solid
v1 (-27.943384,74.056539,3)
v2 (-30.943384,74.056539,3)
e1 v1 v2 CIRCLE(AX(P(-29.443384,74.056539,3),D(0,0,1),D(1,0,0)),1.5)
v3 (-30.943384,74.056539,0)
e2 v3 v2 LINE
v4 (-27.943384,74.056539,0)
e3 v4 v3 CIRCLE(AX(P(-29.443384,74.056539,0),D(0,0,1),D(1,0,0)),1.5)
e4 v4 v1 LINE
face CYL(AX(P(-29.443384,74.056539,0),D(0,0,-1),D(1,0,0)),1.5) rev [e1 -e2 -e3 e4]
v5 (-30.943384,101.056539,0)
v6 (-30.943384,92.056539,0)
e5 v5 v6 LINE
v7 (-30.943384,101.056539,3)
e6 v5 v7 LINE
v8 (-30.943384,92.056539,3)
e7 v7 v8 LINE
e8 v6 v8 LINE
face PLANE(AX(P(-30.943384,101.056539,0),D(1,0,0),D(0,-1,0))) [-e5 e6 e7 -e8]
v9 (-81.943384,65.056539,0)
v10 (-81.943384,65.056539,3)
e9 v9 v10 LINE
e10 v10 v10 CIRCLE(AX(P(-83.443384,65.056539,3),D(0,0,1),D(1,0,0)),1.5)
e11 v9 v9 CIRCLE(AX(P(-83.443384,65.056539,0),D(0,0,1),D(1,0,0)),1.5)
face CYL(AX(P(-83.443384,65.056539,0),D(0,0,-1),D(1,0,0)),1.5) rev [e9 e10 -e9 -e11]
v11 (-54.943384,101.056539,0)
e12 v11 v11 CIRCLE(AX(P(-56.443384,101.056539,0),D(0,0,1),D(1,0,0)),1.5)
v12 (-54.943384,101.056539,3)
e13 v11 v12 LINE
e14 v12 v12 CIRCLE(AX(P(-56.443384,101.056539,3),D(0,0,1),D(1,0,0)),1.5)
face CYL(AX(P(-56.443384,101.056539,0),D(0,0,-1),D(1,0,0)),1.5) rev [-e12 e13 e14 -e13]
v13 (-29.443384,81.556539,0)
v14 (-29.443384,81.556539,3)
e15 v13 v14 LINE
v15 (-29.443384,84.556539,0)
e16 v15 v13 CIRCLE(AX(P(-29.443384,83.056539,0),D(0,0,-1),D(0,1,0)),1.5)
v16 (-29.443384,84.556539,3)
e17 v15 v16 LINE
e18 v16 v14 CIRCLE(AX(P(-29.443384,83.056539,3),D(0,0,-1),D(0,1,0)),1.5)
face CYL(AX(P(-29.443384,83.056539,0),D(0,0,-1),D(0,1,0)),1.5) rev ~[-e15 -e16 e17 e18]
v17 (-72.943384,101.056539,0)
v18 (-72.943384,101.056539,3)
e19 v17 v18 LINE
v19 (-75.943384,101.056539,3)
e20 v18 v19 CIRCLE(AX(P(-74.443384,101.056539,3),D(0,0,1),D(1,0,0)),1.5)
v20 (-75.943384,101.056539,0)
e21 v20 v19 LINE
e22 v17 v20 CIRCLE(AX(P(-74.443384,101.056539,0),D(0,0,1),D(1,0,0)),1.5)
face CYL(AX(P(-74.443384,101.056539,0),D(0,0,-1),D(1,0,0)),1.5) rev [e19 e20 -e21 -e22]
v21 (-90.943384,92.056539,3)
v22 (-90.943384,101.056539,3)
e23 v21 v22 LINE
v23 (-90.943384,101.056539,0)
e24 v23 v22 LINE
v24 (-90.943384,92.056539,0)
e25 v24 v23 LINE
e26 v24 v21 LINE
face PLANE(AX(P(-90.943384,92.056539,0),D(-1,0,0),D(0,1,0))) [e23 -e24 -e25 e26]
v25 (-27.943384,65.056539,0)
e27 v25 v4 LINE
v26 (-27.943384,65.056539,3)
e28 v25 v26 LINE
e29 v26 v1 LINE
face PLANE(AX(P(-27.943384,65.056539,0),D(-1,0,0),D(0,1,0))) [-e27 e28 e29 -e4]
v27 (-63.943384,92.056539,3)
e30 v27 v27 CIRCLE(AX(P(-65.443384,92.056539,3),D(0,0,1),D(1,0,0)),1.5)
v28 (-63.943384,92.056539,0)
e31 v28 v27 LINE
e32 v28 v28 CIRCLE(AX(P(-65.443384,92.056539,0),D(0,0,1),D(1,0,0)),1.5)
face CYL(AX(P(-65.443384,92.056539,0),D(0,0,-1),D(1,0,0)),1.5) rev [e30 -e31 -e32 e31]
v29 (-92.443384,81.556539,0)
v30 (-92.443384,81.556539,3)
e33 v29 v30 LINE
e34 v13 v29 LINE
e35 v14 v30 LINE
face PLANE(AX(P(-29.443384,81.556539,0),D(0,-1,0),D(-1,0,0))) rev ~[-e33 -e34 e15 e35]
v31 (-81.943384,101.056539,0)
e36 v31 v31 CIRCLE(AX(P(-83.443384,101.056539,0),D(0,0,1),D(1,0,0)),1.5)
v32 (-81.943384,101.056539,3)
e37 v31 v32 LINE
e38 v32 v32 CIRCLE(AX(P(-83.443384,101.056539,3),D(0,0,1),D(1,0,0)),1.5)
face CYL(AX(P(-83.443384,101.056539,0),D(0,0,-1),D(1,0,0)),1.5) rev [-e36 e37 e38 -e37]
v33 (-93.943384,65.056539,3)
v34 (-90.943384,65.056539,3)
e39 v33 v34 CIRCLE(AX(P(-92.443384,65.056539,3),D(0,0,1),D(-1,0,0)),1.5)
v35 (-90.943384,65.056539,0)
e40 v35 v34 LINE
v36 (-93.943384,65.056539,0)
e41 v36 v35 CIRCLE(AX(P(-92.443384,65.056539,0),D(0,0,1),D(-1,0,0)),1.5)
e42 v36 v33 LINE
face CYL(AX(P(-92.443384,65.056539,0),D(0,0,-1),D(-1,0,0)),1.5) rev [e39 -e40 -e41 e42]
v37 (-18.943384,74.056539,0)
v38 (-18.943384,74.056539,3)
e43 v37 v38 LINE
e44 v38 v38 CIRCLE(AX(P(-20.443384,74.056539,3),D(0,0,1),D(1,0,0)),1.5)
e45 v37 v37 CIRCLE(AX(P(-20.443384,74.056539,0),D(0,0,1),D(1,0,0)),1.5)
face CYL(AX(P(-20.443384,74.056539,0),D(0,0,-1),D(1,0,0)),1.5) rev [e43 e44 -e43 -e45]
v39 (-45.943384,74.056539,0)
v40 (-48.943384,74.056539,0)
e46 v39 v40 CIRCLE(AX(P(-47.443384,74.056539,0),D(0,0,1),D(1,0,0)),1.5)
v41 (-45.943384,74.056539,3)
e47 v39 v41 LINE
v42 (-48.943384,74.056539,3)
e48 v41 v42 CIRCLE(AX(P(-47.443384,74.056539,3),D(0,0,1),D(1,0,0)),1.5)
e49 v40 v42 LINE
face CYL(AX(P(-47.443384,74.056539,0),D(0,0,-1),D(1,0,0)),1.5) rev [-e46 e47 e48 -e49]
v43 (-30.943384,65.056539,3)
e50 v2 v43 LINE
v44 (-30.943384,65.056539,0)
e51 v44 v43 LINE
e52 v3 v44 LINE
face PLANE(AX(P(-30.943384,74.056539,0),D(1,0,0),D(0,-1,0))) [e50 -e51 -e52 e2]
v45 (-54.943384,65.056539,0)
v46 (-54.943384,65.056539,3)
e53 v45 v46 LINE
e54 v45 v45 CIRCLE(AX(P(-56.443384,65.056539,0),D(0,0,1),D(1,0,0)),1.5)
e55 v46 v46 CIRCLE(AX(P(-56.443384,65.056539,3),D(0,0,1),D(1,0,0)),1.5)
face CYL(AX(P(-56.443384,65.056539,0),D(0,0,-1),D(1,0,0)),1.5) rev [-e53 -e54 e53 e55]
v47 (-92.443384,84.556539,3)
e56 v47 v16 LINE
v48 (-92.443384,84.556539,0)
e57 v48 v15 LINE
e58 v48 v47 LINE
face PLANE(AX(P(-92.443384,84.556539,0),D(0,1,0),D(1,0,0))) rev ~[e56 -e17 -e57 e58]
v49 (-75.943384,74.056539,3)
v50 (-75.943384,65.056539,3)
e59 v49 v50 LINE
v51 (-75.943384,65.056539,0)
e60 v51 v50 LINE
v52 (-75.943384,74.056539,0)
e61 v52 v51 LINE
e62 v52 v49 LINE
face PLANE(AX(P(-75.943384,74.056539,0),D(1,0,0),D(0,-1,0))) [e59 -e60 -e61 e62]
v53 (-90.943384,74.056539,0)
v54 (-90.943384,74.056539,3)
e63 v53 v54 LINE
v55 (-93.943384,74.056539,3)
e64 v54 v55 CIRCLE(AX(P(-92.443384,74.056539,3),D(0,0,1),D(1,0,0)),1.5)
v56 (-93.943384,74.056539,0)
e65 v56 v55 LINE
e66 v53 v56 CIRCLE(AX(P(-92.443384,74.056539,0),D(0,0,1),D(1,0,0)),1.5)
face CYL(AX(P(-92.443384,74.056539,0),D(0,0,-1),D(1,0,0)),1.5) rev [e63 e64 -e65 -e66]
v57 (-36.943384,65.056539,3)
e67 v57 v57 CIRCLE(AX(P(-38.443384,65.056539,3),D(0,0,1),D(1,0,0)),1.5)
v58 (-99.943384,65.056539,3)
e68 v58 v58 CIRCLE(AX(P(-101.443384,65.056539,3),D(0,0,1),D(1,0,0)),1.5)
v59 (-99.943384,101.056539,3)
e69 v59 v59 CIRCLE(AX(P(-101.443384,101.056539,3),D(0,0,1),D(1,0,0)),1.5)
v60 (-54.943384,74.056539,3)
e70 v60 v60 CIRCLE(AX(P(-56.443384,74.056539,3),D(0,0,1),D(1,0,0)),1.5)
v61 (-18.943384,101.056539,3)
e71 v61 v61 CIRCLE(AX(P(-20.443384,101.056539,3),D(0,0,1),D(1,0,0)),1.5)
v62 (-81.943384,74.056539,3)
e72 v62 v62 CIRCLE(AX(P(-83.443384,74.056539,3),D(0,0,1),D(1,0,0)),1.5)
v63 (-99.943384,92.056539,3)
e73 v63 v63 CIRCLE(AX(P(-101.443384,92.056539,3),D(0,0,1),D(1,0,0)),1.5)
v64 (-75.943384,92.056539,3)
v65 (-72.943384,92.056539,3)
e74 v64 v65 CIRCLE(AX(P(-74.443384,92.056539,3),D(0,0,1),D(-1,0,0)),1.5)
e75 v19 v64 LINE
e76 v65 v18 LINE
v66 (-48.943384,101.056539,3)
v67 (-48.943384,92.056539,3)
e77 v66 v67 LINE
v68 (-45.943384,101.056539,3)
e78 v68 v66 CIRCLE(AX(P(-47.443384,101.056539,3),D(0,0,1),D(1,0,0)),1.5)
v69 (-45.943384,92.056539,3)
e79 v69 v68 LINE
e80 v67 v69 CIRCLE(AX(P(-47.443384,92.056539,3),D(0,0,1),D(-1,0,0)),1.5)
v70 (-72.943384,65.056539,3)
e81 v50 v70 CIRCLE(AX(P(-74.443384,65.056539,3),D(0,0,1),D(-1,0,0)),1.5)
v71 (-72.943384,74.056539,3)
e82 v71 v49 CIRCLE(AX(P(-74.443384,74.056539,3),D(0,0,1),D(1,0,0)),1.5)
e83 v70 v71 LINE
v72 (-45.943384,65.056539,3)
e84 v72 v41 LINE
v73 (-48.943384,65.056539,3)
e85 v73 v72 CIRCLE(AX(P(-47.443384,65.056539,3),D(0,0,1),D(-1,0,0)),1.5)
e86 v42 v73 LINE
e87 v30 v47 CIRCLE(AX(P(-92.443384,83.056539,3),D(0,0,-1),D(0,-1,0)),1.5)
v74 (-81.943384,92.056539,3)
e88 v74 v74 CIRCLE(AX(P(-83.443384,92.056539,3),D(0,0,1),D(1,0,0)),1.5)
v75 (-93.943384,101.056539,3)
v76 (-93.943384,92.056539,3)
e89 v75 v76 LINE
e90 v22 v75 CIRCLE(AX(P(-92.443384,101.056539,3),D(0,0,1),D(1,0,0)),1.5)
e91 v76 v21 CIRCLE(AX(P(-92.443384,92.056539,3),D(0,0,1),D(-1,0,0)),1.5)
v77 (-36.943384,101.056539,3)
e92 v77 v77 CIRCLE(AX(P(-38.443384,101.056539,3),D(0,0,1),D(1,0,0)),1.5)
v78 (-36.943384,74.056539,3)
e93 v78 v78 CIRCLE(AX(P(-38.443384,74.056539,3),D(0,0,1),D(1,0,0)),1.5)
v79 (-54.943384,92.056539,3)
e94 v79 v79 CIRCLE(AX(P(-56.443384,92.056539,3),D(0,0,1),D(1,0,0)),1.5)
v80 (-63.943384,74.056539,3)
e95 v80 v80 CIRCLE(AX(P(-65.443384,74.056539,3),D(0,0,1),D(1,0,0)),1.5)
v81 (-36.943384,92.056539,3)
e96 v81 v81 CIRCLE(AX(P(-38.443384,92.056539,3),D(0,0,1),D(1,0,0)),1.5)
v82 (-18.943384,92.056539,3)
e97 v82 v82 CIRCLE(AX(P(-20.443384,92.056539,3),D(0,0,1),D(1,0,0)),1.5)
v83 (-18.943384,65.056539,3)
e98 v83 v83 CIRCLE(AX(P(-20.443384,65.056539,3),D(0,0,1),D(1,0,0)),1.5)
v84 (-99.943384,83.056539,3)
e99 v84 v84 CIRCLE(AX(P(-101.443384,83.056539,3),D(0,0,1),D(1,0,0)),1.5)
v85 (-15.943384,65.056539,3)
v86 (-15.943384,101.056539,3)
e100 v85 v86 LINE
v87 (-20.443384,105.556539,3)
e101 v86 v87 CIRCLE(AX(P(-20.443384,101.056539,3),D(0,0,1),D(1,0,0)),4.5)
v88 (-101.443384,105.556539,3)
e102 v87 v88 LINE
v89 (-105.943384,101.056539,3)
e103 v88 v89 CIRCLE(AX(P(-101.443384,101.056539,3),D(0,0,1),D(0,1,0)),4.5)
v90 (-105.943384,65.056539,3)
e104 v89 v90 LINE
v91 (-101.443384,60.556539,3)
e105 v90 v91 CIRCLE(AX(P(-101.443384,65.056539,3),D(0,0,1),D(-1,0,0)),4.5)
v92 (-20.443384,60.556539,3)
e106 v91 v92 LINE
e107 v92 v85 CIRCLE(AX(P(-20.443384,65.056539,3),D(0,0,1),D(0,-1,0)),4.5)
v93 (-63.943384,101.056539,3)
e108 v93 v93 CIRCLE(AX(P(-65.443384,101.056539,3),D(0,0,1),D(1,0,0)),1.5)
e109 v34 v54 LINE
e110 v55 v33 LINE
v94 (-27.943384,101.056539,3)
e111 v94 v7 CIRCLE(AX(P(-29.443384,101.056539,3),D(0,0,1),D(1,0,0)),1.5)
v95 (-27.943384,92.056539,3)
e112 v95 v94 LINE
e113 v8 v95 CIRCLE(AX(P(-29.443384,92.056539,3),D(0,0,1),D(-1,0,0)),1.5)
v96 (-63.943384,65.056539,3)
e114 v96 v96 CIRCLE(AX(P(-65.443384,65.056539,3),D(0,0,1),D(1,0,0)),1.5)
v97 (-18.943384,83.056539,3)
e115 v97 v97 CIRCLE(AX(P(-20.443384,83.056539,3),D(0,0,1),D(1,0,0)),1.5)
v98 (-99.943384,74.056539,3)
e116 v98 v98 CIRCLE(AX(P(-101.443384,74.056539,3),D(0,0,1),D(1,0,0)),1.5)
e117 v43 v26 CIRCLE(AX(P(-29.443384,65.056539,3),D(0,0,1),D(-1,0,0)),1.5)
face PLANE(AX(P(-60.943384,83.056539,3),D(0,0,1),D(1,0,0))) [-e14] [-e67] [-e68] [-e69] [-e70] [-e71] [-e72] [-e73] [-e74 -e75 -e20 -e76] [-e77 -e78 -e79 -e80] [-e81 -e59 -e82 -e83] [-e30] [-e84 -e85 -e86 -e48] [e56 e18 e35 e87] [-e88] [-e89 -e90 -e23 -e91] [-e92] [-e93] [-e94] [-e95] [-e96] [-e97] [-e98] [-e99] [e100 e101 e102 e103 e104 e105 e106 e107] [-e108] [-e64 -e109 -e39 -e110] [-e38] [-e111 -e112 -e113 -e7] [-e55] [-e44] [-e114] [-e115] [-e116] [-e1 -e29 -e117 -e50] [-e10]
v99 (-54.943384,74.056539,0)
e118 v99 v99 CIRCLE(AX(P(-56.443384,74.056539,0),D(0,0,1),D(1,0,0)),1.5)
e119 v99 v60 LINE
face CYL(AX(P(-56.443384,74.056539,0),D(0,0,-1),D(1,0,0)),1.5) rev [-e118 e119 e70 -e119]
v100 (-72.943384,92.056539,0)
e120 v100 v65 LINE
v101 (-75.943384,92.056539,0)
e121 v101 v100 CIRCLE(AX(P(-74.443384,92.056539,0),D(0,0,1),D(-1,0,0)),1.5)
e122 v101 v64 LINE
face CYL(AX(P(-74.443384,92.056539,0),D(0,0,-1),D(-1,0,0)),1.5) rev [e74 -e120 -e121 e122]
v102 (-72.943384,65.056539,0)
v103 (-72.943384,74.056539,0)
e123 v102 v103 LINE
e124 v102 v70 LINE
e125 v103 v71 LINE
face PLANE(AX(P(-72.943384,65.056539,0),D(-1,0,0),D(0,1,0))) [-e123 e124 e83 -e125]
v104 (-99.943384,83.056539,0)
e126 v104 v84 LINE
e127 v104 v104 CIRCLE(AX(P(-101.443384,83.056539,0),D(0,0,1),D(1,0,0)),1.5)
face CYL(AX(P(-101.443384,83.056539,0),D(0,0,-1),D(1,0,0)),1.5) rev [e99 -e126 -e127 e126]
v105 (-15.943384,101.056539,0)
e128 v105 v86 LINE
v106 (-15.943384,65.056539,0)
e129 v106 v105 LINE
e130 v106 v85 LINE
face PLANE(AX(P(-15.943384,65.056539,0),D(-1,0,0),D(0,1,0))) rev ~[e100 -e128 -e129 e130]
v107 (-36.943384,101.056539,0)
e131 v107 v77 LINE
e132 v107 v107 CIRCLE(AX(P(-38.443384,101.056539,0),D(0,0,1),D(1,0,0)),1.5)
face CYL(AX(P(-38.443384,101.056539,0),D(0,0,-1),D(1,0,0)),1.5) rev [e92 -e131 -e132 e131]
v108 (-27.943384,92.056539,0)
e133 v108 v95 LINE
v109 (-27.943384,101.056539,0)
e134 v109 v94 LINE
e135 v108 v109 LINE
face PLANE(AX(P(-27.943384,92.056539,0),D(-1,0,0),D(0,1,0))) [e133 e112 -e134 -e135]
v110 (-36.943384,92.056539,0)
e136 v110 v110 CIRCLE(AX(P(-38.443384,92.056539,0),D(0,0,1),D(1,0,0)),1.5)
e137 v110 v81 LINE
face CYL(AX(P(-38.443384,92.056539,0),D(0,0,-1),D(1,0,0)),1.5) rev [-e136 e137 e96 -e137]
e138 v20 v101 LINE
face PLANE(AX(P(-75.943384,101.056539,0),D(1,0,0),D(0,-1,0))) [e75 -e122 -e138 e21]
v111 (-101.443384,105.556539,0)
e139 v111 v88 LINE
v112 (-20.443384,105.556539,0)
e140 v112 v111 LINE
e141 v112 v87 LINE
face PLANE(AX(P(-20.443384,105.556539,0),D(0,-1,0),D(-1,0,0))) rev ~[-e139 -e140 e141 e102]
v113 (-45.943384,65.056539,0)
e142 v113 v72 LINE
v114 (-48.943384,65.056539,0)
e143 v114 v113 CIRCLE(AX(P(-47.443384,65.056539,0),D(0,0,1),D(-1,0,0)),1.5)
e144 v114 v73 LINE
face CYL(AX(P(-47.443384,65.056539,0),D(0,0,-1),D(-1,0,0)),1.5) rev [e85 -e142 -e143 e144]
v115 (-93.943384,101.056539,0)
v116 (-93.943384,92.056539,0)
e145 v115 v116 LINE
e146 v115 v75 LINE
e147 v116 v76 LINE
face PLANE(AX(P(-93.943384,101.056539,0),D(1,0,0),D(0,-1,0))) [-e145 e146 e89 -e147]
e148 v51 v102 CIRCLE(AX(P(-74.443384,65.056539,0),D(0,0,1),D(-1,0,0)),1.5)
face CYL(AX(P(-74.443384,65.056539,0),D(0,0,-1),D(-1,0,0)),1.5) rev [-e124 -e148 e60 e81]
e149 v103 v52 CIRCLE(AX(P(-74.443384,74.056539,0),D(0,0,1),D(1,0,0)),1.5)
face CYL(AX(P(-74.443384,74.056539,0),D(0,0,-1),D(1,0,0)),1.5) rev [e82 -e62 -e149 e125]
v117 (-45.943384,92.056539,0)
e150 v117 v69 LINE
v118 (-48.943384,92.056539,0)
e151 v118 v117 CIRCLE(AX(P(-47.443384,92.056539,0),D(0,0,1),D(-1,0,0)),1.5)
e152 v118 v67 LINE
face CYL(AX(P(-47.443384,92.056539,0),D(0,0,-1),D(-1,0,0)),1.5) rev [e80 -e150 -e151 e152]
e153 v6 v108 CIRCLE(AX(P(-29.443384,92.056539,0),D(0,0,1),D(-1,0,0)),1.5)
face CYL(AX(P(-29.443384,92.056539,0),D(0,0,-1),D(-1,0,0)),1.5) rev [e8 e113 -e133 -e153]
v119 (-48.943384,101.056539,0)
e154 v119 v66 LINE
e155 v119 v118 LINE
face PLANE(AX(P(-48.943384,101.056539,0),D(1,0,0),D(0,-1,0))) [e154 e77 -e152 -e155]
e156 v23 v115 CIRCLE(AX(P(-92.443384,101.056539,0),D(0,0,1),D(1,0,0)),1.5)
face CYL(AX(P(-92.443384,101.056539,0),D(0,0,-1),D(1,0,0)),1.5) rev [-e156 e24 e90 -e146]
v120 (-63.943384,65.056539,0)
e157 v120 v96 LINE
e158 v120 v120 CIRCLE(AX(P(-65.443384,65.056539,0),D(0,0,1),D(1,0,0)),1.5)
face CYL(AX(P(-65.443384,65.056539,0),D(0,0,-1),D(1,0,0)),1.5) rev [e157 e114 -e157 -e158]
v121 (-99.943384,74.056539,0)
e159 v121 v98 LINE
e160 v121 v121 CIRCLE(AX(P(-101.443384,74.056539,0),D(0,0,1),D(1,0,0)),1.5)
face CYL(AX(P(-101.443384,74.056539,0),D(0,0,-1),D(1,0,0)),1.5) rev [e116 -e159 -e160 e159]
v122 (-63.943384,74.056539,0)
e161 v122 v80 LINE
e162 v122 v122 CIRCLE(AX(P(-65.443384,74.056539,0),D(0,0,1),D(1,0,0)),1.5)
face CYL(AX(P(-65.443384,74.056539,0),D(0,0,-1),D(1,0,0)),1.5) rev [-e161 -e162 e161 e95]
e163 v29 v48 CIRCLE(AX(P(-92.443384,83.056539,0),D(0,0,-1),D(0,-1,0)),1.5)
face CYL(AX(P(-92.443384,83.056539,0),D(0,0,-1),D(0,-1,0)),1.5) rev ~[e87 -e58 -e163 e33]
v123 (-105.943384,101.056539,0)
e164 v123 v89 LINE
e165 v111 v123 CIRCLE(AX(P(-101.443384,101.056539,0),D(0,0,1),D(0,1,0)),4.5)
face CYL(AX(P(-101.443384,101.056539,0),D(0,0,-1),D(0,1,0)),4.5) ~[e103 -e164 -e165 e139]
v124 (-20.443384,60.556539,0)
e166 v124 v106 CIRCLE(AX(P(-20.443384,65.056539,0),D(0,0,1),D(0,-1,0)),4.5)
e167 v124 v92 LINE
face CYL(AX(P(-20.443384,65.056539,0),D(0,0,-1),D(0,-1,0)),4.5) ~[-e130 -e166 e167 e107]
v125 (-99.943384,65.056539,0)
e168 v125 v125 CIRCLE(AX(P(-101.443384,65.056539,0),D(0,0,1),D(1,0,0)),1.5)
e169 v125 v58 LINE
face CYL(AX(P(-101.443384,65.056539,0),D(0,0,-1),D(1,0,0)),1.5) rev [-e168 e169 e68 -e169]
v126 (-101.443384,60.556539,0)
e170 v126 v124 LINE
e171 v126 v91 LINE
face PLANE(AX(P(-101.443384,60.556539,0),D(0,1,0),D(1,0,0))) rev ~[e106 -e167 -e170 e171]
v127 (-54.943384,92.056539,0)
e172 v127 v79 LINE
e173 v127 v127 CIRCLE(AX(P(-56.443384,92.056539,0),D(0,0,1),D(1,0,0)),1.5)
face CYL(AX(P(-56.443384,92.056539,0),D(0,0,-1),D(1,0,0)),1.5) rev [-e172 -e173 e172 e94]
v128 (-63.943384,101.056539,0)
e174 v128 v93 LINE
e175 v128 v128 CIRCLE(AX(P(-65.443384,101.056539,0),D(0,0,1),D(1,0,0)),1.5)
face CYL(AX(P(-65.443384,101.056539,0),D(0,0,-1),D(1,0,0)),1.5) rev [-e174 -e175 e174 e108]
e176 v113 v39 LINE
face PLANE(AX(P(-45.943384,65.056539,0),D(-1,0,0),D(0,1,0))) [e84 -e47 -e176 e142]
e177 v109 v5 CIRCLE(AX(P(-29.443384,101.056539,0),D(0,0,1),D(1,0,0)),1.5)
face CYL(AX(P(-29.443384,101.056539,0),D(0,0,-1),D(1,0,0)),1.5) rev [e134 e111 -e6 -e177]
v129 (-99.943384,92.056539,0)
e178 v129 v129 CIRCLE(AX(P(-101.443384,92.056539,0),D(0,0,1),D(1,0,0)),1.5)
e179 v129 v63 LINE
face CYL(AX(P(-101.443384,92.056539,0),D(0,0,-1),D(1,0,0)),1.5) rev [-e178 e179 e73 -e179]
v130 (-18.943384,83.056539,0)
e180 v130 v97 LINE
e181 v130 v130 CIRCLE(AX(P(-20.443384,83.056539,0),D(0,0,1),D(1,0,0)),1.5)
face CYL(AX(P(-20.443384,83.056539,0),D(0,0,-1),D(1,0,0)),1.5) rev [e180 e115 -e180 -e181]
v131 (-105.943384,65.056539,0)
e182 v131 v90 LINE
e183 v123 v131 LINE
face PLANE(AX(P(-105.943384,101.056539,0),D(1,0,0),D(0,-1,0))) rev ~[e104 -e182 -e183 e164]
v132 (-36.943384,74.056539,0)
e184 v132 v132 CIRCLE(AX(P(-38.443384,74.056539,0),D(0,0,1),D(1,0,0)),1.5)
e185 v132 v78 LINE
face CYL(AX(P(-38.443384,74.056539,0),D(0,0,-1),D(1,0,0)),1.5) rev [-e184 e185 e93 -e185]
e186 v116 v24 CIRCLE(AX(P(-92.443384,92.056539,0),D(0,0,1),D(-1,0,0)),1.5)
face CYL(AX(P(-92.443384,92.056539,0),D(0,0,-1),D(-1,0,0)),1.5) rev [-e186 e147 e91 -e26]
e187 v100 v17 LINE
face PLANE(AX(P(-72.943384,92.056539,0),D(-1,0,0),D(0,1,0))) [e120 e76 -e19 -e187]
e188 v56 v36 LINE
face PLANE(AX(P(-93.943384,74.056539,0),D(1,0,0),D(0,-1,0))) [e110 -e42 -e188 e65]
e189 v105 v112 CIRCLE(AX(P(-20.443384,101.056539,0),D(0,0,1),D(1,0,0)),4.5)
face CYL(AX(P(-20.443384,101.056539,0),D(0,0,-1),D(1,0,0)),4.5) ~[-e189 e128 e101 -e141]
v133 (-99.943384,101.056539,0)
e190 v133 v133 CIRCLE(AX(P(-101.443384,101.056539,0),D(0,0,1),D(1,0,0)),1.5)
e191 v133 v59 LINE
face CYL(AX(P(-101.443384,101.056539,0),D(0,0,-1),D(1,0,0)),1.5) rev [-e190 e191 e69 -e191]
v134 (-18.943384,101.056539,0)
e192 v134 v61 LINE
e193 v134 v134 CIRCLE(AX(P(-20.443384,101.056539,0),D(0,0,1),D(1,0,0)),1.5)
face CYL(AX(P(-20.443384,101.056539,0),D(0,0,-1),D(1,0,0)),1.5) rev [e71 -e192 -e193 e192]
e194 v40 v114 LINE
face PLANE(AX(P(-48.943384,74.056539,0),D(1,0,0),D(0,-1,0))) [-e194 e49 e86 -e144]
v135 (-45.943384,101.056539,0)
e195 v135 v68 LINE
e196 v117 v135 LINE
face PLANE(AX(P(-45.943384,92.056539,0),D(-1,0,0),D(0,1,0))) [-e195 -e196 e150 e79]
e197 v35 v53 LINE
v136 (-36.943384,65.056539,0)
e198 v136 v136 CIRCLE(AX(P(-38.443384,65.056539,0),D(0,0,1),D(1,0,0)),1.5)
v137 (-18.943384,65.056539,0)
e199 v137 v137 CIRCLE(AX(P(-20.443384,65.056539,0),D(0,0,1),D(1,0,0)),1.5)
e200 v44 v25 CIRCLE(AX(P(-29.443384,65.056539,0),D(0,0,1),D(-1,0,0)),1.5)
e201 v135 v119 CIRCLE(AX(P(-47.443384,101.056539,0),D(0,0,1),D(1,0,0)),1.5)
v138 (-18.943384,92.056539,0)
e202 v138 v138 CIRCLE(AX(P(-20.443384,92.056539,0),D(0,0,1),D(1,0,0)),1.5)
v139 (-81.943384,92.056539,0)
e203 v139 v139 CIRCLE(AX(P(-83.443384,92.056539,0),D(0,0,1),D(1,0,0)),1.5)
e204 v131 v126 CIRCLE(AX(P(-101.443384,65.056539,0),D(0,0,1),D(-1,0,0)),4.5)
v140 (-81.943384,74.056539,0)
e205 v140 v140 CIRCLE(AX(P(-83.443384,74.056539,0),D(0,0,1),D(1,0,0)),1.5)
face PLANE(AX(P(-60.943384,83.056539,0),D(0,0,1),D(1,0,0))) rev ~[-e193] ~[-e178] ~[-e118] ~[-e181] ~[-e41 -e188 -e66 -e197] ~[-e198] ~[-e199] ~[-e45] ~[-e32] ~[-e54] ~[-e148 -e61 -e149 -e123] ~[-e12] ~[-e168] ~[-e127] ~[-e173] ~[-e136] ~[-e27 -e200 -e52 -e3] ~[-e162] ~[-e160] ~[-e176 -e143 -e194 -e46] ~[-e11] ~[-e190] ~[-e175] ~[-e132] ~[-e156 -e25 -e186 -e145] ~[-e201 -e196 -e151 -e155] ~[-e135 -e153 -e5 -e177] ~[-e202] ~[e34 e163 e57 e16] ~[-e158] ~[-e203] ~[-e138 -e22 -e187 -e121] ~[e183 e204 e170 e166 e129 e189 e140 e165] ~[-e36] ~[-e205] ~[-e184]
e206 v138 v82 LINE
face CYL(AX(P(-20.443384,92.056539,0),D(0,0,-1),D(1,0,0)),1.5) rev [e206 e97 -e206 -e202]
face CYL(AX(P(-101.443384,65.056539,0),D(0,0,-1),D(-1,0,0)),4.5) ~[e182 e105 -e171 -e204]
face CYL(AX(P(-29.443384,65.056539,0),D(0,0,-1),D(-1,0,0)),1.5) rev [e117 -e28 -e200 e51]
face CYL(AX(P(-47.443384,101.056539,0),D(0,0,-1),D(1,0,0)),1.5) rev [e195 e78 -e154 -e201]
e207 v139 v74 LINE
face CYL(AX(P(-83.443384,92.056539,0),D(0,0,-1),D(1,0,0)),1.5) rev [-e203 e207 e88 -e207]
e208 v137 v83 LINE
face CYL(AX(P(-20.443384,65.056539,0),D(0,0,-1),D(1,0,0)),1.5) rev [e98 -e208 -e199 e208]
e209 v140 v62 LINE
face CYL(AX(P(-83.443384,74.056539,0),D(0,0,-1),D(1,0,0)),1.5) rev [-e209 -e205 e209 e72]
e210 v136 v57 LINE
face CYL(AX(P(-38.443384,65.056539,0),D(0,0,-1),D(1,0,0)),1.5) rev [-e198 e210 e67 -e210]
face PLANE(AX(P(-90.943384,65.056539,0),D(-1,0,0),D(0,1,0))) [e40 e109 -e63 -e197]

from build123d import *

# Parameters (mm, degrees)
MODEL_R                 = 1.5
SALIENTE_EXTRUIR1_DEPTH = 3


with BuildPart() as part:
    # Model → Saliente-Extruir1 (new body)
    with BuildSketch(Plane.XY):
        with BuildLine():
            Line((-105.943383637, 101.056539338), (-105.943383637, 65.056539338))
            ThreePointArc((-105.943383637, 65.056539338), (-104.625364152, 61.874558823), (-101.443383637, 60.556539338))
            Line((-101.443383637, 60.556539338), (-20.443383637, 60.556539338))
            ThreePointArc((-20.443383637, 60.556539338), (-17.261403122, 61.874558823), (-15.943383637, 65.056539338))
            Line((-15.943383637, 65.056539338), (-15.943383637, 101.056539338))
            ThreePointArc((-15.943383637, 101.056539338), (-17.261403122, 104.238519853), (-20.443383637, 105.556539338))
            Line((-20.443383637, 105.556539338), (-101.443383637, 105.556539338))
            ThreePointArc((-101.443383637, 105.556539338), (-104.625364152, 104.238519853), (-105.943383637, 101.056539338))
        make_face()
        with Locations((-101.443383637, 101.056539338)):
            Circle(MODEL_R, mode=Mode.SUBTRACT)
        with Locations((-83.443383637, 101.056539338)):
            Circle(MODEL_R, mode=Mode.SUBTRACT)
        with Locations((-65.443383637, 101.056539338)):
            Circle(MODEL_R, mode=Mode.SUBTRACT)
        with Locations((-56.443383637, 101.056539338)):
            Circle(MODEL_R, mode=Mode.SUBTRACT)
        with Locations((-38.443383637, 101.056539338)):
            Circle(MODEL_R, mode=Mode.SUBTRACT)
        with Locations((-101.443383637, 92.056539338)):
            Circle(MODEL_R, mode=Mode.SUBTRACT)
        with Locations((-83.443383637, 92.056539338)):
            Circle(MODEL_R, mode=Mode.SUBTRACT)
        with Locations((-65.443383637, 92.056539338)):
            Circle(MODEL_R, mode=Mode.SUBTRACT)
        with Locations((-56.443383637, 92.056539338)):
            Circle(MODEL_R, mode=Mode.SUBTRACT)
        with Locations((-38.443383637, 92.056539338)):
            Circle(MODEL_R, mode=Mode.SUBTRACT)
        with Locations((-101.443383637, 83.056539338)):
            Circle(MODEL_R, mode=Mode.SUBTRACT)
        with Locations((-101.443383637, 65.056539338)):
            Circle(MODEL_R, mode=Mode.SUBTRACT)
        with Locations((-83.443383637, 65.056539338)):
            Circle(MODEL_R, mode=Mode.SUBTRACT)
        with Locations((-65.443383637, 65.056539338)):
            Circle(MODEL_R, mode=Mode.SUBTRACT)
        with Locations((-56.443383637, 65.056539338)):
            Circle(MODEL_R, mode=Mode.SUBTRACT)
        with Locations((-38.443383637, 65.056539338)):
            Circle(MODEL_R, mode=Mode.SUBTRACT)
        with Locations((-20.443383637, 101.056539338)):
            Circle(MODEL_R, mode=Mode.SUBTRACT)
        with Locations((-20.443383637, 92.056539338)):
            Circle(MODEL_R, mode=Mode.SUBTRACT)
        with Locations((-20.443383637, 83.056539338)):
            Circle(MODEL_R, mode=Mode.SUBTRACT)
        with Locations((-20.443383637, 65.056539338)):
            Circle(MODEL_R, mode=Mode.SUBTRACT)
        with Locations((-101.443383637, 74.056539338)):
            Circle(MODEL_R, mode=Mode.SUBTRACT)
        with Locations((-83.443383637, 74.056539338)):
            Circle(MODEL_R, mode=Mode.SUBTRACT)
        with Locations((-65.443383637, 74.056539338)):
            Circle(MODEL_R, mode=Mode.SUBTRACT)
        with Locations((-56.443383637, 74.056539338)):
            Circle(MODEL_R, mode=Mode.SUBTRACT)
        with Locations((-38.443383637, 74.056539338)):
            Circle(MODEL_R, mode=Mode.SUBTRACT)
        with Locations((-20.443383637, 74.056539338)):
            Circle(MODEL_R, mode=Mode.SUBTRACT)
        with BuildLine():
            Line((-92.443383637, 84.556539338), (-29.443383637, 84.556539338))
            ThreePointArc((-29.443383637, 84.556539338), (-27.943383637, 83.056539338), (-29.443383637, 81.556539338))
            Line((-29.443383637, 81.556539338), (-92.443383637, 81.556539338))
            ThreePointArc((-92.443383637, 81.556539338), (-93.943383637, 83.056539338), (-92.443383637, 84.556539338))
        make_face(mode=Mode.SUBTRACT)
        with BuildLine():
            Line((-93.943383637, 74.056539338), (-93.943383637, 65.056539338))
            ThreePointArc((-93.943383637, 65.056539338), (-92.443383637, 63.556539338), (-90.943383637, 65.056539338))
            Line((-90.943383637, 65.056539338), (-90.943383637, 74.056539338))
            ThreePointArc((-90.943383637, 74.056539338), (-92.443383637, 75.556539338), (-93.943383637, 74.056539338))
        make_face(mode=Mode.SUBTRACT)
        with BuildLine():
            Line((-75.943383637, 74.056539338), (-75.943383637, 65.056539338))
            ThreePointArc((-75.943383637, 65.056539338), (-74.443383637, 63.556539338), (-72.943383637, 65.056539338))
            Line((-72.943383637, 65.056539338), (-72.943383637, 74.056539338))
            ThreePointArc((-72.943383637, 74.056539338), (-74.443383637, 75.556539338), (-75.943383637, 74.056539338))
        make_face(mode=Mode.SUBTRACT)
        with BuildLine():
            Line((-48.943383637, 74.056539338), (-48.943383637, 65.056539338))
            ThreePointArc((-48.943383637, 65.056539338), (-47.443383637, 63.556539338), (-45.943383637, 65.056539338))
            Line((-45.943383637, 65.056539338), (-45.943383637, 74.056539338))
            ThreePointArc((-45.943383637, 74.056539338), (-47.443383637, 75.556539338), (-48.943383637, 74.056539338))
        make_face(mode=Mode.SUBTRACT)
        with BuildLine():
            Line((-30.943383637, 74.056539338), (-30.943383637, 65.056539338))
            ThreePointArc((-30.943383637, 65.056539338), (-29.443383637, 63.556539338), (-27.943383637, 65.056539338))
            Line((-27.943383637, 65.056539338), (-27.943383637, 74.056539338))
            ThreePointArc((-27.943383637, 74.056539338), (-29.443383637, 75.556539338), (-30.943383637, 74.056539338))
        make_face(mode=Mode.SUBTRACT)
        with BuildLine():
            Line((-93.943383637, 101.056539338), (-93.943383637, 92.056539338))
            ThreePointArc((-93.943383637, 92.056539338), (-92.443383637, 90.556539338), (-90.943383637, 92.056539338))
            Line((-90.943383637, 92.056539338), (-90.943383637, 101.056539338))
            ThreePointArc((-90.943383637, 101.056539338), (-92.443383637, 102.556539338), (-93.943383637, 101.056539338))
        make_face(mode=Mode.SUBTRACT)
        with BuildLine():
            Line((-75.943383637, 101.056539338), (-75.943383637, 92.056539338))
            ThreePointArc((-75.943383637, 92.056539338), (-74.443383637, 90.556539338), (-72.943383637, 92.056539338))
            Line((-72.943383637, 92.056539338), (-72.943383637, 101.056539338))
            ThreePointArc((-72.943383637, 101.056539338), (-74.443383637, 102.556539338), (-75.943383637, 101.056539338))
        make_face(mode=Mode.SUBTRACT)
        with BuildLine():
            Line((-48.943383637, 101.056539338), (-48.943383637, 92.056539338))
            ThreePointArc((-48.943383637, 92.056539338), (-47.443383637, 90.556539338), (-45.943383637, 92.056539338))
            Line((-45.943383637, 92.056539338), (-45.943383637, 101.056539338))
            ThreePointArc((-45.943383637, 101.056539338), (-47.443383637, 102.556539338), (-48.943383637, 101.056539338))
        make_face(mode=Mode.SUBTRACT)
        with BuildLine():
            Line((-30.943383637, 101.056539338), (-30.943383637, 92.056539338))
            ThreePointArc((-30.943383637, 92.056539338), (-29.443383637, 90.556539338), (-27.943383637, 92.056539338))
            Line((-27.943383637, 92.056539338), (-27.943383637, 101.056539338))
            ThreePointArc((-27.943383637, 101.056539338), (-29.443383637, 102.556539338), (-30.943383637, 101.056539338))
        make_face(mode=Mode.SUBTRACT)
    extrude(amount=SALIENTE_EXTRUIR1_DEPTH)


solid = part.part
